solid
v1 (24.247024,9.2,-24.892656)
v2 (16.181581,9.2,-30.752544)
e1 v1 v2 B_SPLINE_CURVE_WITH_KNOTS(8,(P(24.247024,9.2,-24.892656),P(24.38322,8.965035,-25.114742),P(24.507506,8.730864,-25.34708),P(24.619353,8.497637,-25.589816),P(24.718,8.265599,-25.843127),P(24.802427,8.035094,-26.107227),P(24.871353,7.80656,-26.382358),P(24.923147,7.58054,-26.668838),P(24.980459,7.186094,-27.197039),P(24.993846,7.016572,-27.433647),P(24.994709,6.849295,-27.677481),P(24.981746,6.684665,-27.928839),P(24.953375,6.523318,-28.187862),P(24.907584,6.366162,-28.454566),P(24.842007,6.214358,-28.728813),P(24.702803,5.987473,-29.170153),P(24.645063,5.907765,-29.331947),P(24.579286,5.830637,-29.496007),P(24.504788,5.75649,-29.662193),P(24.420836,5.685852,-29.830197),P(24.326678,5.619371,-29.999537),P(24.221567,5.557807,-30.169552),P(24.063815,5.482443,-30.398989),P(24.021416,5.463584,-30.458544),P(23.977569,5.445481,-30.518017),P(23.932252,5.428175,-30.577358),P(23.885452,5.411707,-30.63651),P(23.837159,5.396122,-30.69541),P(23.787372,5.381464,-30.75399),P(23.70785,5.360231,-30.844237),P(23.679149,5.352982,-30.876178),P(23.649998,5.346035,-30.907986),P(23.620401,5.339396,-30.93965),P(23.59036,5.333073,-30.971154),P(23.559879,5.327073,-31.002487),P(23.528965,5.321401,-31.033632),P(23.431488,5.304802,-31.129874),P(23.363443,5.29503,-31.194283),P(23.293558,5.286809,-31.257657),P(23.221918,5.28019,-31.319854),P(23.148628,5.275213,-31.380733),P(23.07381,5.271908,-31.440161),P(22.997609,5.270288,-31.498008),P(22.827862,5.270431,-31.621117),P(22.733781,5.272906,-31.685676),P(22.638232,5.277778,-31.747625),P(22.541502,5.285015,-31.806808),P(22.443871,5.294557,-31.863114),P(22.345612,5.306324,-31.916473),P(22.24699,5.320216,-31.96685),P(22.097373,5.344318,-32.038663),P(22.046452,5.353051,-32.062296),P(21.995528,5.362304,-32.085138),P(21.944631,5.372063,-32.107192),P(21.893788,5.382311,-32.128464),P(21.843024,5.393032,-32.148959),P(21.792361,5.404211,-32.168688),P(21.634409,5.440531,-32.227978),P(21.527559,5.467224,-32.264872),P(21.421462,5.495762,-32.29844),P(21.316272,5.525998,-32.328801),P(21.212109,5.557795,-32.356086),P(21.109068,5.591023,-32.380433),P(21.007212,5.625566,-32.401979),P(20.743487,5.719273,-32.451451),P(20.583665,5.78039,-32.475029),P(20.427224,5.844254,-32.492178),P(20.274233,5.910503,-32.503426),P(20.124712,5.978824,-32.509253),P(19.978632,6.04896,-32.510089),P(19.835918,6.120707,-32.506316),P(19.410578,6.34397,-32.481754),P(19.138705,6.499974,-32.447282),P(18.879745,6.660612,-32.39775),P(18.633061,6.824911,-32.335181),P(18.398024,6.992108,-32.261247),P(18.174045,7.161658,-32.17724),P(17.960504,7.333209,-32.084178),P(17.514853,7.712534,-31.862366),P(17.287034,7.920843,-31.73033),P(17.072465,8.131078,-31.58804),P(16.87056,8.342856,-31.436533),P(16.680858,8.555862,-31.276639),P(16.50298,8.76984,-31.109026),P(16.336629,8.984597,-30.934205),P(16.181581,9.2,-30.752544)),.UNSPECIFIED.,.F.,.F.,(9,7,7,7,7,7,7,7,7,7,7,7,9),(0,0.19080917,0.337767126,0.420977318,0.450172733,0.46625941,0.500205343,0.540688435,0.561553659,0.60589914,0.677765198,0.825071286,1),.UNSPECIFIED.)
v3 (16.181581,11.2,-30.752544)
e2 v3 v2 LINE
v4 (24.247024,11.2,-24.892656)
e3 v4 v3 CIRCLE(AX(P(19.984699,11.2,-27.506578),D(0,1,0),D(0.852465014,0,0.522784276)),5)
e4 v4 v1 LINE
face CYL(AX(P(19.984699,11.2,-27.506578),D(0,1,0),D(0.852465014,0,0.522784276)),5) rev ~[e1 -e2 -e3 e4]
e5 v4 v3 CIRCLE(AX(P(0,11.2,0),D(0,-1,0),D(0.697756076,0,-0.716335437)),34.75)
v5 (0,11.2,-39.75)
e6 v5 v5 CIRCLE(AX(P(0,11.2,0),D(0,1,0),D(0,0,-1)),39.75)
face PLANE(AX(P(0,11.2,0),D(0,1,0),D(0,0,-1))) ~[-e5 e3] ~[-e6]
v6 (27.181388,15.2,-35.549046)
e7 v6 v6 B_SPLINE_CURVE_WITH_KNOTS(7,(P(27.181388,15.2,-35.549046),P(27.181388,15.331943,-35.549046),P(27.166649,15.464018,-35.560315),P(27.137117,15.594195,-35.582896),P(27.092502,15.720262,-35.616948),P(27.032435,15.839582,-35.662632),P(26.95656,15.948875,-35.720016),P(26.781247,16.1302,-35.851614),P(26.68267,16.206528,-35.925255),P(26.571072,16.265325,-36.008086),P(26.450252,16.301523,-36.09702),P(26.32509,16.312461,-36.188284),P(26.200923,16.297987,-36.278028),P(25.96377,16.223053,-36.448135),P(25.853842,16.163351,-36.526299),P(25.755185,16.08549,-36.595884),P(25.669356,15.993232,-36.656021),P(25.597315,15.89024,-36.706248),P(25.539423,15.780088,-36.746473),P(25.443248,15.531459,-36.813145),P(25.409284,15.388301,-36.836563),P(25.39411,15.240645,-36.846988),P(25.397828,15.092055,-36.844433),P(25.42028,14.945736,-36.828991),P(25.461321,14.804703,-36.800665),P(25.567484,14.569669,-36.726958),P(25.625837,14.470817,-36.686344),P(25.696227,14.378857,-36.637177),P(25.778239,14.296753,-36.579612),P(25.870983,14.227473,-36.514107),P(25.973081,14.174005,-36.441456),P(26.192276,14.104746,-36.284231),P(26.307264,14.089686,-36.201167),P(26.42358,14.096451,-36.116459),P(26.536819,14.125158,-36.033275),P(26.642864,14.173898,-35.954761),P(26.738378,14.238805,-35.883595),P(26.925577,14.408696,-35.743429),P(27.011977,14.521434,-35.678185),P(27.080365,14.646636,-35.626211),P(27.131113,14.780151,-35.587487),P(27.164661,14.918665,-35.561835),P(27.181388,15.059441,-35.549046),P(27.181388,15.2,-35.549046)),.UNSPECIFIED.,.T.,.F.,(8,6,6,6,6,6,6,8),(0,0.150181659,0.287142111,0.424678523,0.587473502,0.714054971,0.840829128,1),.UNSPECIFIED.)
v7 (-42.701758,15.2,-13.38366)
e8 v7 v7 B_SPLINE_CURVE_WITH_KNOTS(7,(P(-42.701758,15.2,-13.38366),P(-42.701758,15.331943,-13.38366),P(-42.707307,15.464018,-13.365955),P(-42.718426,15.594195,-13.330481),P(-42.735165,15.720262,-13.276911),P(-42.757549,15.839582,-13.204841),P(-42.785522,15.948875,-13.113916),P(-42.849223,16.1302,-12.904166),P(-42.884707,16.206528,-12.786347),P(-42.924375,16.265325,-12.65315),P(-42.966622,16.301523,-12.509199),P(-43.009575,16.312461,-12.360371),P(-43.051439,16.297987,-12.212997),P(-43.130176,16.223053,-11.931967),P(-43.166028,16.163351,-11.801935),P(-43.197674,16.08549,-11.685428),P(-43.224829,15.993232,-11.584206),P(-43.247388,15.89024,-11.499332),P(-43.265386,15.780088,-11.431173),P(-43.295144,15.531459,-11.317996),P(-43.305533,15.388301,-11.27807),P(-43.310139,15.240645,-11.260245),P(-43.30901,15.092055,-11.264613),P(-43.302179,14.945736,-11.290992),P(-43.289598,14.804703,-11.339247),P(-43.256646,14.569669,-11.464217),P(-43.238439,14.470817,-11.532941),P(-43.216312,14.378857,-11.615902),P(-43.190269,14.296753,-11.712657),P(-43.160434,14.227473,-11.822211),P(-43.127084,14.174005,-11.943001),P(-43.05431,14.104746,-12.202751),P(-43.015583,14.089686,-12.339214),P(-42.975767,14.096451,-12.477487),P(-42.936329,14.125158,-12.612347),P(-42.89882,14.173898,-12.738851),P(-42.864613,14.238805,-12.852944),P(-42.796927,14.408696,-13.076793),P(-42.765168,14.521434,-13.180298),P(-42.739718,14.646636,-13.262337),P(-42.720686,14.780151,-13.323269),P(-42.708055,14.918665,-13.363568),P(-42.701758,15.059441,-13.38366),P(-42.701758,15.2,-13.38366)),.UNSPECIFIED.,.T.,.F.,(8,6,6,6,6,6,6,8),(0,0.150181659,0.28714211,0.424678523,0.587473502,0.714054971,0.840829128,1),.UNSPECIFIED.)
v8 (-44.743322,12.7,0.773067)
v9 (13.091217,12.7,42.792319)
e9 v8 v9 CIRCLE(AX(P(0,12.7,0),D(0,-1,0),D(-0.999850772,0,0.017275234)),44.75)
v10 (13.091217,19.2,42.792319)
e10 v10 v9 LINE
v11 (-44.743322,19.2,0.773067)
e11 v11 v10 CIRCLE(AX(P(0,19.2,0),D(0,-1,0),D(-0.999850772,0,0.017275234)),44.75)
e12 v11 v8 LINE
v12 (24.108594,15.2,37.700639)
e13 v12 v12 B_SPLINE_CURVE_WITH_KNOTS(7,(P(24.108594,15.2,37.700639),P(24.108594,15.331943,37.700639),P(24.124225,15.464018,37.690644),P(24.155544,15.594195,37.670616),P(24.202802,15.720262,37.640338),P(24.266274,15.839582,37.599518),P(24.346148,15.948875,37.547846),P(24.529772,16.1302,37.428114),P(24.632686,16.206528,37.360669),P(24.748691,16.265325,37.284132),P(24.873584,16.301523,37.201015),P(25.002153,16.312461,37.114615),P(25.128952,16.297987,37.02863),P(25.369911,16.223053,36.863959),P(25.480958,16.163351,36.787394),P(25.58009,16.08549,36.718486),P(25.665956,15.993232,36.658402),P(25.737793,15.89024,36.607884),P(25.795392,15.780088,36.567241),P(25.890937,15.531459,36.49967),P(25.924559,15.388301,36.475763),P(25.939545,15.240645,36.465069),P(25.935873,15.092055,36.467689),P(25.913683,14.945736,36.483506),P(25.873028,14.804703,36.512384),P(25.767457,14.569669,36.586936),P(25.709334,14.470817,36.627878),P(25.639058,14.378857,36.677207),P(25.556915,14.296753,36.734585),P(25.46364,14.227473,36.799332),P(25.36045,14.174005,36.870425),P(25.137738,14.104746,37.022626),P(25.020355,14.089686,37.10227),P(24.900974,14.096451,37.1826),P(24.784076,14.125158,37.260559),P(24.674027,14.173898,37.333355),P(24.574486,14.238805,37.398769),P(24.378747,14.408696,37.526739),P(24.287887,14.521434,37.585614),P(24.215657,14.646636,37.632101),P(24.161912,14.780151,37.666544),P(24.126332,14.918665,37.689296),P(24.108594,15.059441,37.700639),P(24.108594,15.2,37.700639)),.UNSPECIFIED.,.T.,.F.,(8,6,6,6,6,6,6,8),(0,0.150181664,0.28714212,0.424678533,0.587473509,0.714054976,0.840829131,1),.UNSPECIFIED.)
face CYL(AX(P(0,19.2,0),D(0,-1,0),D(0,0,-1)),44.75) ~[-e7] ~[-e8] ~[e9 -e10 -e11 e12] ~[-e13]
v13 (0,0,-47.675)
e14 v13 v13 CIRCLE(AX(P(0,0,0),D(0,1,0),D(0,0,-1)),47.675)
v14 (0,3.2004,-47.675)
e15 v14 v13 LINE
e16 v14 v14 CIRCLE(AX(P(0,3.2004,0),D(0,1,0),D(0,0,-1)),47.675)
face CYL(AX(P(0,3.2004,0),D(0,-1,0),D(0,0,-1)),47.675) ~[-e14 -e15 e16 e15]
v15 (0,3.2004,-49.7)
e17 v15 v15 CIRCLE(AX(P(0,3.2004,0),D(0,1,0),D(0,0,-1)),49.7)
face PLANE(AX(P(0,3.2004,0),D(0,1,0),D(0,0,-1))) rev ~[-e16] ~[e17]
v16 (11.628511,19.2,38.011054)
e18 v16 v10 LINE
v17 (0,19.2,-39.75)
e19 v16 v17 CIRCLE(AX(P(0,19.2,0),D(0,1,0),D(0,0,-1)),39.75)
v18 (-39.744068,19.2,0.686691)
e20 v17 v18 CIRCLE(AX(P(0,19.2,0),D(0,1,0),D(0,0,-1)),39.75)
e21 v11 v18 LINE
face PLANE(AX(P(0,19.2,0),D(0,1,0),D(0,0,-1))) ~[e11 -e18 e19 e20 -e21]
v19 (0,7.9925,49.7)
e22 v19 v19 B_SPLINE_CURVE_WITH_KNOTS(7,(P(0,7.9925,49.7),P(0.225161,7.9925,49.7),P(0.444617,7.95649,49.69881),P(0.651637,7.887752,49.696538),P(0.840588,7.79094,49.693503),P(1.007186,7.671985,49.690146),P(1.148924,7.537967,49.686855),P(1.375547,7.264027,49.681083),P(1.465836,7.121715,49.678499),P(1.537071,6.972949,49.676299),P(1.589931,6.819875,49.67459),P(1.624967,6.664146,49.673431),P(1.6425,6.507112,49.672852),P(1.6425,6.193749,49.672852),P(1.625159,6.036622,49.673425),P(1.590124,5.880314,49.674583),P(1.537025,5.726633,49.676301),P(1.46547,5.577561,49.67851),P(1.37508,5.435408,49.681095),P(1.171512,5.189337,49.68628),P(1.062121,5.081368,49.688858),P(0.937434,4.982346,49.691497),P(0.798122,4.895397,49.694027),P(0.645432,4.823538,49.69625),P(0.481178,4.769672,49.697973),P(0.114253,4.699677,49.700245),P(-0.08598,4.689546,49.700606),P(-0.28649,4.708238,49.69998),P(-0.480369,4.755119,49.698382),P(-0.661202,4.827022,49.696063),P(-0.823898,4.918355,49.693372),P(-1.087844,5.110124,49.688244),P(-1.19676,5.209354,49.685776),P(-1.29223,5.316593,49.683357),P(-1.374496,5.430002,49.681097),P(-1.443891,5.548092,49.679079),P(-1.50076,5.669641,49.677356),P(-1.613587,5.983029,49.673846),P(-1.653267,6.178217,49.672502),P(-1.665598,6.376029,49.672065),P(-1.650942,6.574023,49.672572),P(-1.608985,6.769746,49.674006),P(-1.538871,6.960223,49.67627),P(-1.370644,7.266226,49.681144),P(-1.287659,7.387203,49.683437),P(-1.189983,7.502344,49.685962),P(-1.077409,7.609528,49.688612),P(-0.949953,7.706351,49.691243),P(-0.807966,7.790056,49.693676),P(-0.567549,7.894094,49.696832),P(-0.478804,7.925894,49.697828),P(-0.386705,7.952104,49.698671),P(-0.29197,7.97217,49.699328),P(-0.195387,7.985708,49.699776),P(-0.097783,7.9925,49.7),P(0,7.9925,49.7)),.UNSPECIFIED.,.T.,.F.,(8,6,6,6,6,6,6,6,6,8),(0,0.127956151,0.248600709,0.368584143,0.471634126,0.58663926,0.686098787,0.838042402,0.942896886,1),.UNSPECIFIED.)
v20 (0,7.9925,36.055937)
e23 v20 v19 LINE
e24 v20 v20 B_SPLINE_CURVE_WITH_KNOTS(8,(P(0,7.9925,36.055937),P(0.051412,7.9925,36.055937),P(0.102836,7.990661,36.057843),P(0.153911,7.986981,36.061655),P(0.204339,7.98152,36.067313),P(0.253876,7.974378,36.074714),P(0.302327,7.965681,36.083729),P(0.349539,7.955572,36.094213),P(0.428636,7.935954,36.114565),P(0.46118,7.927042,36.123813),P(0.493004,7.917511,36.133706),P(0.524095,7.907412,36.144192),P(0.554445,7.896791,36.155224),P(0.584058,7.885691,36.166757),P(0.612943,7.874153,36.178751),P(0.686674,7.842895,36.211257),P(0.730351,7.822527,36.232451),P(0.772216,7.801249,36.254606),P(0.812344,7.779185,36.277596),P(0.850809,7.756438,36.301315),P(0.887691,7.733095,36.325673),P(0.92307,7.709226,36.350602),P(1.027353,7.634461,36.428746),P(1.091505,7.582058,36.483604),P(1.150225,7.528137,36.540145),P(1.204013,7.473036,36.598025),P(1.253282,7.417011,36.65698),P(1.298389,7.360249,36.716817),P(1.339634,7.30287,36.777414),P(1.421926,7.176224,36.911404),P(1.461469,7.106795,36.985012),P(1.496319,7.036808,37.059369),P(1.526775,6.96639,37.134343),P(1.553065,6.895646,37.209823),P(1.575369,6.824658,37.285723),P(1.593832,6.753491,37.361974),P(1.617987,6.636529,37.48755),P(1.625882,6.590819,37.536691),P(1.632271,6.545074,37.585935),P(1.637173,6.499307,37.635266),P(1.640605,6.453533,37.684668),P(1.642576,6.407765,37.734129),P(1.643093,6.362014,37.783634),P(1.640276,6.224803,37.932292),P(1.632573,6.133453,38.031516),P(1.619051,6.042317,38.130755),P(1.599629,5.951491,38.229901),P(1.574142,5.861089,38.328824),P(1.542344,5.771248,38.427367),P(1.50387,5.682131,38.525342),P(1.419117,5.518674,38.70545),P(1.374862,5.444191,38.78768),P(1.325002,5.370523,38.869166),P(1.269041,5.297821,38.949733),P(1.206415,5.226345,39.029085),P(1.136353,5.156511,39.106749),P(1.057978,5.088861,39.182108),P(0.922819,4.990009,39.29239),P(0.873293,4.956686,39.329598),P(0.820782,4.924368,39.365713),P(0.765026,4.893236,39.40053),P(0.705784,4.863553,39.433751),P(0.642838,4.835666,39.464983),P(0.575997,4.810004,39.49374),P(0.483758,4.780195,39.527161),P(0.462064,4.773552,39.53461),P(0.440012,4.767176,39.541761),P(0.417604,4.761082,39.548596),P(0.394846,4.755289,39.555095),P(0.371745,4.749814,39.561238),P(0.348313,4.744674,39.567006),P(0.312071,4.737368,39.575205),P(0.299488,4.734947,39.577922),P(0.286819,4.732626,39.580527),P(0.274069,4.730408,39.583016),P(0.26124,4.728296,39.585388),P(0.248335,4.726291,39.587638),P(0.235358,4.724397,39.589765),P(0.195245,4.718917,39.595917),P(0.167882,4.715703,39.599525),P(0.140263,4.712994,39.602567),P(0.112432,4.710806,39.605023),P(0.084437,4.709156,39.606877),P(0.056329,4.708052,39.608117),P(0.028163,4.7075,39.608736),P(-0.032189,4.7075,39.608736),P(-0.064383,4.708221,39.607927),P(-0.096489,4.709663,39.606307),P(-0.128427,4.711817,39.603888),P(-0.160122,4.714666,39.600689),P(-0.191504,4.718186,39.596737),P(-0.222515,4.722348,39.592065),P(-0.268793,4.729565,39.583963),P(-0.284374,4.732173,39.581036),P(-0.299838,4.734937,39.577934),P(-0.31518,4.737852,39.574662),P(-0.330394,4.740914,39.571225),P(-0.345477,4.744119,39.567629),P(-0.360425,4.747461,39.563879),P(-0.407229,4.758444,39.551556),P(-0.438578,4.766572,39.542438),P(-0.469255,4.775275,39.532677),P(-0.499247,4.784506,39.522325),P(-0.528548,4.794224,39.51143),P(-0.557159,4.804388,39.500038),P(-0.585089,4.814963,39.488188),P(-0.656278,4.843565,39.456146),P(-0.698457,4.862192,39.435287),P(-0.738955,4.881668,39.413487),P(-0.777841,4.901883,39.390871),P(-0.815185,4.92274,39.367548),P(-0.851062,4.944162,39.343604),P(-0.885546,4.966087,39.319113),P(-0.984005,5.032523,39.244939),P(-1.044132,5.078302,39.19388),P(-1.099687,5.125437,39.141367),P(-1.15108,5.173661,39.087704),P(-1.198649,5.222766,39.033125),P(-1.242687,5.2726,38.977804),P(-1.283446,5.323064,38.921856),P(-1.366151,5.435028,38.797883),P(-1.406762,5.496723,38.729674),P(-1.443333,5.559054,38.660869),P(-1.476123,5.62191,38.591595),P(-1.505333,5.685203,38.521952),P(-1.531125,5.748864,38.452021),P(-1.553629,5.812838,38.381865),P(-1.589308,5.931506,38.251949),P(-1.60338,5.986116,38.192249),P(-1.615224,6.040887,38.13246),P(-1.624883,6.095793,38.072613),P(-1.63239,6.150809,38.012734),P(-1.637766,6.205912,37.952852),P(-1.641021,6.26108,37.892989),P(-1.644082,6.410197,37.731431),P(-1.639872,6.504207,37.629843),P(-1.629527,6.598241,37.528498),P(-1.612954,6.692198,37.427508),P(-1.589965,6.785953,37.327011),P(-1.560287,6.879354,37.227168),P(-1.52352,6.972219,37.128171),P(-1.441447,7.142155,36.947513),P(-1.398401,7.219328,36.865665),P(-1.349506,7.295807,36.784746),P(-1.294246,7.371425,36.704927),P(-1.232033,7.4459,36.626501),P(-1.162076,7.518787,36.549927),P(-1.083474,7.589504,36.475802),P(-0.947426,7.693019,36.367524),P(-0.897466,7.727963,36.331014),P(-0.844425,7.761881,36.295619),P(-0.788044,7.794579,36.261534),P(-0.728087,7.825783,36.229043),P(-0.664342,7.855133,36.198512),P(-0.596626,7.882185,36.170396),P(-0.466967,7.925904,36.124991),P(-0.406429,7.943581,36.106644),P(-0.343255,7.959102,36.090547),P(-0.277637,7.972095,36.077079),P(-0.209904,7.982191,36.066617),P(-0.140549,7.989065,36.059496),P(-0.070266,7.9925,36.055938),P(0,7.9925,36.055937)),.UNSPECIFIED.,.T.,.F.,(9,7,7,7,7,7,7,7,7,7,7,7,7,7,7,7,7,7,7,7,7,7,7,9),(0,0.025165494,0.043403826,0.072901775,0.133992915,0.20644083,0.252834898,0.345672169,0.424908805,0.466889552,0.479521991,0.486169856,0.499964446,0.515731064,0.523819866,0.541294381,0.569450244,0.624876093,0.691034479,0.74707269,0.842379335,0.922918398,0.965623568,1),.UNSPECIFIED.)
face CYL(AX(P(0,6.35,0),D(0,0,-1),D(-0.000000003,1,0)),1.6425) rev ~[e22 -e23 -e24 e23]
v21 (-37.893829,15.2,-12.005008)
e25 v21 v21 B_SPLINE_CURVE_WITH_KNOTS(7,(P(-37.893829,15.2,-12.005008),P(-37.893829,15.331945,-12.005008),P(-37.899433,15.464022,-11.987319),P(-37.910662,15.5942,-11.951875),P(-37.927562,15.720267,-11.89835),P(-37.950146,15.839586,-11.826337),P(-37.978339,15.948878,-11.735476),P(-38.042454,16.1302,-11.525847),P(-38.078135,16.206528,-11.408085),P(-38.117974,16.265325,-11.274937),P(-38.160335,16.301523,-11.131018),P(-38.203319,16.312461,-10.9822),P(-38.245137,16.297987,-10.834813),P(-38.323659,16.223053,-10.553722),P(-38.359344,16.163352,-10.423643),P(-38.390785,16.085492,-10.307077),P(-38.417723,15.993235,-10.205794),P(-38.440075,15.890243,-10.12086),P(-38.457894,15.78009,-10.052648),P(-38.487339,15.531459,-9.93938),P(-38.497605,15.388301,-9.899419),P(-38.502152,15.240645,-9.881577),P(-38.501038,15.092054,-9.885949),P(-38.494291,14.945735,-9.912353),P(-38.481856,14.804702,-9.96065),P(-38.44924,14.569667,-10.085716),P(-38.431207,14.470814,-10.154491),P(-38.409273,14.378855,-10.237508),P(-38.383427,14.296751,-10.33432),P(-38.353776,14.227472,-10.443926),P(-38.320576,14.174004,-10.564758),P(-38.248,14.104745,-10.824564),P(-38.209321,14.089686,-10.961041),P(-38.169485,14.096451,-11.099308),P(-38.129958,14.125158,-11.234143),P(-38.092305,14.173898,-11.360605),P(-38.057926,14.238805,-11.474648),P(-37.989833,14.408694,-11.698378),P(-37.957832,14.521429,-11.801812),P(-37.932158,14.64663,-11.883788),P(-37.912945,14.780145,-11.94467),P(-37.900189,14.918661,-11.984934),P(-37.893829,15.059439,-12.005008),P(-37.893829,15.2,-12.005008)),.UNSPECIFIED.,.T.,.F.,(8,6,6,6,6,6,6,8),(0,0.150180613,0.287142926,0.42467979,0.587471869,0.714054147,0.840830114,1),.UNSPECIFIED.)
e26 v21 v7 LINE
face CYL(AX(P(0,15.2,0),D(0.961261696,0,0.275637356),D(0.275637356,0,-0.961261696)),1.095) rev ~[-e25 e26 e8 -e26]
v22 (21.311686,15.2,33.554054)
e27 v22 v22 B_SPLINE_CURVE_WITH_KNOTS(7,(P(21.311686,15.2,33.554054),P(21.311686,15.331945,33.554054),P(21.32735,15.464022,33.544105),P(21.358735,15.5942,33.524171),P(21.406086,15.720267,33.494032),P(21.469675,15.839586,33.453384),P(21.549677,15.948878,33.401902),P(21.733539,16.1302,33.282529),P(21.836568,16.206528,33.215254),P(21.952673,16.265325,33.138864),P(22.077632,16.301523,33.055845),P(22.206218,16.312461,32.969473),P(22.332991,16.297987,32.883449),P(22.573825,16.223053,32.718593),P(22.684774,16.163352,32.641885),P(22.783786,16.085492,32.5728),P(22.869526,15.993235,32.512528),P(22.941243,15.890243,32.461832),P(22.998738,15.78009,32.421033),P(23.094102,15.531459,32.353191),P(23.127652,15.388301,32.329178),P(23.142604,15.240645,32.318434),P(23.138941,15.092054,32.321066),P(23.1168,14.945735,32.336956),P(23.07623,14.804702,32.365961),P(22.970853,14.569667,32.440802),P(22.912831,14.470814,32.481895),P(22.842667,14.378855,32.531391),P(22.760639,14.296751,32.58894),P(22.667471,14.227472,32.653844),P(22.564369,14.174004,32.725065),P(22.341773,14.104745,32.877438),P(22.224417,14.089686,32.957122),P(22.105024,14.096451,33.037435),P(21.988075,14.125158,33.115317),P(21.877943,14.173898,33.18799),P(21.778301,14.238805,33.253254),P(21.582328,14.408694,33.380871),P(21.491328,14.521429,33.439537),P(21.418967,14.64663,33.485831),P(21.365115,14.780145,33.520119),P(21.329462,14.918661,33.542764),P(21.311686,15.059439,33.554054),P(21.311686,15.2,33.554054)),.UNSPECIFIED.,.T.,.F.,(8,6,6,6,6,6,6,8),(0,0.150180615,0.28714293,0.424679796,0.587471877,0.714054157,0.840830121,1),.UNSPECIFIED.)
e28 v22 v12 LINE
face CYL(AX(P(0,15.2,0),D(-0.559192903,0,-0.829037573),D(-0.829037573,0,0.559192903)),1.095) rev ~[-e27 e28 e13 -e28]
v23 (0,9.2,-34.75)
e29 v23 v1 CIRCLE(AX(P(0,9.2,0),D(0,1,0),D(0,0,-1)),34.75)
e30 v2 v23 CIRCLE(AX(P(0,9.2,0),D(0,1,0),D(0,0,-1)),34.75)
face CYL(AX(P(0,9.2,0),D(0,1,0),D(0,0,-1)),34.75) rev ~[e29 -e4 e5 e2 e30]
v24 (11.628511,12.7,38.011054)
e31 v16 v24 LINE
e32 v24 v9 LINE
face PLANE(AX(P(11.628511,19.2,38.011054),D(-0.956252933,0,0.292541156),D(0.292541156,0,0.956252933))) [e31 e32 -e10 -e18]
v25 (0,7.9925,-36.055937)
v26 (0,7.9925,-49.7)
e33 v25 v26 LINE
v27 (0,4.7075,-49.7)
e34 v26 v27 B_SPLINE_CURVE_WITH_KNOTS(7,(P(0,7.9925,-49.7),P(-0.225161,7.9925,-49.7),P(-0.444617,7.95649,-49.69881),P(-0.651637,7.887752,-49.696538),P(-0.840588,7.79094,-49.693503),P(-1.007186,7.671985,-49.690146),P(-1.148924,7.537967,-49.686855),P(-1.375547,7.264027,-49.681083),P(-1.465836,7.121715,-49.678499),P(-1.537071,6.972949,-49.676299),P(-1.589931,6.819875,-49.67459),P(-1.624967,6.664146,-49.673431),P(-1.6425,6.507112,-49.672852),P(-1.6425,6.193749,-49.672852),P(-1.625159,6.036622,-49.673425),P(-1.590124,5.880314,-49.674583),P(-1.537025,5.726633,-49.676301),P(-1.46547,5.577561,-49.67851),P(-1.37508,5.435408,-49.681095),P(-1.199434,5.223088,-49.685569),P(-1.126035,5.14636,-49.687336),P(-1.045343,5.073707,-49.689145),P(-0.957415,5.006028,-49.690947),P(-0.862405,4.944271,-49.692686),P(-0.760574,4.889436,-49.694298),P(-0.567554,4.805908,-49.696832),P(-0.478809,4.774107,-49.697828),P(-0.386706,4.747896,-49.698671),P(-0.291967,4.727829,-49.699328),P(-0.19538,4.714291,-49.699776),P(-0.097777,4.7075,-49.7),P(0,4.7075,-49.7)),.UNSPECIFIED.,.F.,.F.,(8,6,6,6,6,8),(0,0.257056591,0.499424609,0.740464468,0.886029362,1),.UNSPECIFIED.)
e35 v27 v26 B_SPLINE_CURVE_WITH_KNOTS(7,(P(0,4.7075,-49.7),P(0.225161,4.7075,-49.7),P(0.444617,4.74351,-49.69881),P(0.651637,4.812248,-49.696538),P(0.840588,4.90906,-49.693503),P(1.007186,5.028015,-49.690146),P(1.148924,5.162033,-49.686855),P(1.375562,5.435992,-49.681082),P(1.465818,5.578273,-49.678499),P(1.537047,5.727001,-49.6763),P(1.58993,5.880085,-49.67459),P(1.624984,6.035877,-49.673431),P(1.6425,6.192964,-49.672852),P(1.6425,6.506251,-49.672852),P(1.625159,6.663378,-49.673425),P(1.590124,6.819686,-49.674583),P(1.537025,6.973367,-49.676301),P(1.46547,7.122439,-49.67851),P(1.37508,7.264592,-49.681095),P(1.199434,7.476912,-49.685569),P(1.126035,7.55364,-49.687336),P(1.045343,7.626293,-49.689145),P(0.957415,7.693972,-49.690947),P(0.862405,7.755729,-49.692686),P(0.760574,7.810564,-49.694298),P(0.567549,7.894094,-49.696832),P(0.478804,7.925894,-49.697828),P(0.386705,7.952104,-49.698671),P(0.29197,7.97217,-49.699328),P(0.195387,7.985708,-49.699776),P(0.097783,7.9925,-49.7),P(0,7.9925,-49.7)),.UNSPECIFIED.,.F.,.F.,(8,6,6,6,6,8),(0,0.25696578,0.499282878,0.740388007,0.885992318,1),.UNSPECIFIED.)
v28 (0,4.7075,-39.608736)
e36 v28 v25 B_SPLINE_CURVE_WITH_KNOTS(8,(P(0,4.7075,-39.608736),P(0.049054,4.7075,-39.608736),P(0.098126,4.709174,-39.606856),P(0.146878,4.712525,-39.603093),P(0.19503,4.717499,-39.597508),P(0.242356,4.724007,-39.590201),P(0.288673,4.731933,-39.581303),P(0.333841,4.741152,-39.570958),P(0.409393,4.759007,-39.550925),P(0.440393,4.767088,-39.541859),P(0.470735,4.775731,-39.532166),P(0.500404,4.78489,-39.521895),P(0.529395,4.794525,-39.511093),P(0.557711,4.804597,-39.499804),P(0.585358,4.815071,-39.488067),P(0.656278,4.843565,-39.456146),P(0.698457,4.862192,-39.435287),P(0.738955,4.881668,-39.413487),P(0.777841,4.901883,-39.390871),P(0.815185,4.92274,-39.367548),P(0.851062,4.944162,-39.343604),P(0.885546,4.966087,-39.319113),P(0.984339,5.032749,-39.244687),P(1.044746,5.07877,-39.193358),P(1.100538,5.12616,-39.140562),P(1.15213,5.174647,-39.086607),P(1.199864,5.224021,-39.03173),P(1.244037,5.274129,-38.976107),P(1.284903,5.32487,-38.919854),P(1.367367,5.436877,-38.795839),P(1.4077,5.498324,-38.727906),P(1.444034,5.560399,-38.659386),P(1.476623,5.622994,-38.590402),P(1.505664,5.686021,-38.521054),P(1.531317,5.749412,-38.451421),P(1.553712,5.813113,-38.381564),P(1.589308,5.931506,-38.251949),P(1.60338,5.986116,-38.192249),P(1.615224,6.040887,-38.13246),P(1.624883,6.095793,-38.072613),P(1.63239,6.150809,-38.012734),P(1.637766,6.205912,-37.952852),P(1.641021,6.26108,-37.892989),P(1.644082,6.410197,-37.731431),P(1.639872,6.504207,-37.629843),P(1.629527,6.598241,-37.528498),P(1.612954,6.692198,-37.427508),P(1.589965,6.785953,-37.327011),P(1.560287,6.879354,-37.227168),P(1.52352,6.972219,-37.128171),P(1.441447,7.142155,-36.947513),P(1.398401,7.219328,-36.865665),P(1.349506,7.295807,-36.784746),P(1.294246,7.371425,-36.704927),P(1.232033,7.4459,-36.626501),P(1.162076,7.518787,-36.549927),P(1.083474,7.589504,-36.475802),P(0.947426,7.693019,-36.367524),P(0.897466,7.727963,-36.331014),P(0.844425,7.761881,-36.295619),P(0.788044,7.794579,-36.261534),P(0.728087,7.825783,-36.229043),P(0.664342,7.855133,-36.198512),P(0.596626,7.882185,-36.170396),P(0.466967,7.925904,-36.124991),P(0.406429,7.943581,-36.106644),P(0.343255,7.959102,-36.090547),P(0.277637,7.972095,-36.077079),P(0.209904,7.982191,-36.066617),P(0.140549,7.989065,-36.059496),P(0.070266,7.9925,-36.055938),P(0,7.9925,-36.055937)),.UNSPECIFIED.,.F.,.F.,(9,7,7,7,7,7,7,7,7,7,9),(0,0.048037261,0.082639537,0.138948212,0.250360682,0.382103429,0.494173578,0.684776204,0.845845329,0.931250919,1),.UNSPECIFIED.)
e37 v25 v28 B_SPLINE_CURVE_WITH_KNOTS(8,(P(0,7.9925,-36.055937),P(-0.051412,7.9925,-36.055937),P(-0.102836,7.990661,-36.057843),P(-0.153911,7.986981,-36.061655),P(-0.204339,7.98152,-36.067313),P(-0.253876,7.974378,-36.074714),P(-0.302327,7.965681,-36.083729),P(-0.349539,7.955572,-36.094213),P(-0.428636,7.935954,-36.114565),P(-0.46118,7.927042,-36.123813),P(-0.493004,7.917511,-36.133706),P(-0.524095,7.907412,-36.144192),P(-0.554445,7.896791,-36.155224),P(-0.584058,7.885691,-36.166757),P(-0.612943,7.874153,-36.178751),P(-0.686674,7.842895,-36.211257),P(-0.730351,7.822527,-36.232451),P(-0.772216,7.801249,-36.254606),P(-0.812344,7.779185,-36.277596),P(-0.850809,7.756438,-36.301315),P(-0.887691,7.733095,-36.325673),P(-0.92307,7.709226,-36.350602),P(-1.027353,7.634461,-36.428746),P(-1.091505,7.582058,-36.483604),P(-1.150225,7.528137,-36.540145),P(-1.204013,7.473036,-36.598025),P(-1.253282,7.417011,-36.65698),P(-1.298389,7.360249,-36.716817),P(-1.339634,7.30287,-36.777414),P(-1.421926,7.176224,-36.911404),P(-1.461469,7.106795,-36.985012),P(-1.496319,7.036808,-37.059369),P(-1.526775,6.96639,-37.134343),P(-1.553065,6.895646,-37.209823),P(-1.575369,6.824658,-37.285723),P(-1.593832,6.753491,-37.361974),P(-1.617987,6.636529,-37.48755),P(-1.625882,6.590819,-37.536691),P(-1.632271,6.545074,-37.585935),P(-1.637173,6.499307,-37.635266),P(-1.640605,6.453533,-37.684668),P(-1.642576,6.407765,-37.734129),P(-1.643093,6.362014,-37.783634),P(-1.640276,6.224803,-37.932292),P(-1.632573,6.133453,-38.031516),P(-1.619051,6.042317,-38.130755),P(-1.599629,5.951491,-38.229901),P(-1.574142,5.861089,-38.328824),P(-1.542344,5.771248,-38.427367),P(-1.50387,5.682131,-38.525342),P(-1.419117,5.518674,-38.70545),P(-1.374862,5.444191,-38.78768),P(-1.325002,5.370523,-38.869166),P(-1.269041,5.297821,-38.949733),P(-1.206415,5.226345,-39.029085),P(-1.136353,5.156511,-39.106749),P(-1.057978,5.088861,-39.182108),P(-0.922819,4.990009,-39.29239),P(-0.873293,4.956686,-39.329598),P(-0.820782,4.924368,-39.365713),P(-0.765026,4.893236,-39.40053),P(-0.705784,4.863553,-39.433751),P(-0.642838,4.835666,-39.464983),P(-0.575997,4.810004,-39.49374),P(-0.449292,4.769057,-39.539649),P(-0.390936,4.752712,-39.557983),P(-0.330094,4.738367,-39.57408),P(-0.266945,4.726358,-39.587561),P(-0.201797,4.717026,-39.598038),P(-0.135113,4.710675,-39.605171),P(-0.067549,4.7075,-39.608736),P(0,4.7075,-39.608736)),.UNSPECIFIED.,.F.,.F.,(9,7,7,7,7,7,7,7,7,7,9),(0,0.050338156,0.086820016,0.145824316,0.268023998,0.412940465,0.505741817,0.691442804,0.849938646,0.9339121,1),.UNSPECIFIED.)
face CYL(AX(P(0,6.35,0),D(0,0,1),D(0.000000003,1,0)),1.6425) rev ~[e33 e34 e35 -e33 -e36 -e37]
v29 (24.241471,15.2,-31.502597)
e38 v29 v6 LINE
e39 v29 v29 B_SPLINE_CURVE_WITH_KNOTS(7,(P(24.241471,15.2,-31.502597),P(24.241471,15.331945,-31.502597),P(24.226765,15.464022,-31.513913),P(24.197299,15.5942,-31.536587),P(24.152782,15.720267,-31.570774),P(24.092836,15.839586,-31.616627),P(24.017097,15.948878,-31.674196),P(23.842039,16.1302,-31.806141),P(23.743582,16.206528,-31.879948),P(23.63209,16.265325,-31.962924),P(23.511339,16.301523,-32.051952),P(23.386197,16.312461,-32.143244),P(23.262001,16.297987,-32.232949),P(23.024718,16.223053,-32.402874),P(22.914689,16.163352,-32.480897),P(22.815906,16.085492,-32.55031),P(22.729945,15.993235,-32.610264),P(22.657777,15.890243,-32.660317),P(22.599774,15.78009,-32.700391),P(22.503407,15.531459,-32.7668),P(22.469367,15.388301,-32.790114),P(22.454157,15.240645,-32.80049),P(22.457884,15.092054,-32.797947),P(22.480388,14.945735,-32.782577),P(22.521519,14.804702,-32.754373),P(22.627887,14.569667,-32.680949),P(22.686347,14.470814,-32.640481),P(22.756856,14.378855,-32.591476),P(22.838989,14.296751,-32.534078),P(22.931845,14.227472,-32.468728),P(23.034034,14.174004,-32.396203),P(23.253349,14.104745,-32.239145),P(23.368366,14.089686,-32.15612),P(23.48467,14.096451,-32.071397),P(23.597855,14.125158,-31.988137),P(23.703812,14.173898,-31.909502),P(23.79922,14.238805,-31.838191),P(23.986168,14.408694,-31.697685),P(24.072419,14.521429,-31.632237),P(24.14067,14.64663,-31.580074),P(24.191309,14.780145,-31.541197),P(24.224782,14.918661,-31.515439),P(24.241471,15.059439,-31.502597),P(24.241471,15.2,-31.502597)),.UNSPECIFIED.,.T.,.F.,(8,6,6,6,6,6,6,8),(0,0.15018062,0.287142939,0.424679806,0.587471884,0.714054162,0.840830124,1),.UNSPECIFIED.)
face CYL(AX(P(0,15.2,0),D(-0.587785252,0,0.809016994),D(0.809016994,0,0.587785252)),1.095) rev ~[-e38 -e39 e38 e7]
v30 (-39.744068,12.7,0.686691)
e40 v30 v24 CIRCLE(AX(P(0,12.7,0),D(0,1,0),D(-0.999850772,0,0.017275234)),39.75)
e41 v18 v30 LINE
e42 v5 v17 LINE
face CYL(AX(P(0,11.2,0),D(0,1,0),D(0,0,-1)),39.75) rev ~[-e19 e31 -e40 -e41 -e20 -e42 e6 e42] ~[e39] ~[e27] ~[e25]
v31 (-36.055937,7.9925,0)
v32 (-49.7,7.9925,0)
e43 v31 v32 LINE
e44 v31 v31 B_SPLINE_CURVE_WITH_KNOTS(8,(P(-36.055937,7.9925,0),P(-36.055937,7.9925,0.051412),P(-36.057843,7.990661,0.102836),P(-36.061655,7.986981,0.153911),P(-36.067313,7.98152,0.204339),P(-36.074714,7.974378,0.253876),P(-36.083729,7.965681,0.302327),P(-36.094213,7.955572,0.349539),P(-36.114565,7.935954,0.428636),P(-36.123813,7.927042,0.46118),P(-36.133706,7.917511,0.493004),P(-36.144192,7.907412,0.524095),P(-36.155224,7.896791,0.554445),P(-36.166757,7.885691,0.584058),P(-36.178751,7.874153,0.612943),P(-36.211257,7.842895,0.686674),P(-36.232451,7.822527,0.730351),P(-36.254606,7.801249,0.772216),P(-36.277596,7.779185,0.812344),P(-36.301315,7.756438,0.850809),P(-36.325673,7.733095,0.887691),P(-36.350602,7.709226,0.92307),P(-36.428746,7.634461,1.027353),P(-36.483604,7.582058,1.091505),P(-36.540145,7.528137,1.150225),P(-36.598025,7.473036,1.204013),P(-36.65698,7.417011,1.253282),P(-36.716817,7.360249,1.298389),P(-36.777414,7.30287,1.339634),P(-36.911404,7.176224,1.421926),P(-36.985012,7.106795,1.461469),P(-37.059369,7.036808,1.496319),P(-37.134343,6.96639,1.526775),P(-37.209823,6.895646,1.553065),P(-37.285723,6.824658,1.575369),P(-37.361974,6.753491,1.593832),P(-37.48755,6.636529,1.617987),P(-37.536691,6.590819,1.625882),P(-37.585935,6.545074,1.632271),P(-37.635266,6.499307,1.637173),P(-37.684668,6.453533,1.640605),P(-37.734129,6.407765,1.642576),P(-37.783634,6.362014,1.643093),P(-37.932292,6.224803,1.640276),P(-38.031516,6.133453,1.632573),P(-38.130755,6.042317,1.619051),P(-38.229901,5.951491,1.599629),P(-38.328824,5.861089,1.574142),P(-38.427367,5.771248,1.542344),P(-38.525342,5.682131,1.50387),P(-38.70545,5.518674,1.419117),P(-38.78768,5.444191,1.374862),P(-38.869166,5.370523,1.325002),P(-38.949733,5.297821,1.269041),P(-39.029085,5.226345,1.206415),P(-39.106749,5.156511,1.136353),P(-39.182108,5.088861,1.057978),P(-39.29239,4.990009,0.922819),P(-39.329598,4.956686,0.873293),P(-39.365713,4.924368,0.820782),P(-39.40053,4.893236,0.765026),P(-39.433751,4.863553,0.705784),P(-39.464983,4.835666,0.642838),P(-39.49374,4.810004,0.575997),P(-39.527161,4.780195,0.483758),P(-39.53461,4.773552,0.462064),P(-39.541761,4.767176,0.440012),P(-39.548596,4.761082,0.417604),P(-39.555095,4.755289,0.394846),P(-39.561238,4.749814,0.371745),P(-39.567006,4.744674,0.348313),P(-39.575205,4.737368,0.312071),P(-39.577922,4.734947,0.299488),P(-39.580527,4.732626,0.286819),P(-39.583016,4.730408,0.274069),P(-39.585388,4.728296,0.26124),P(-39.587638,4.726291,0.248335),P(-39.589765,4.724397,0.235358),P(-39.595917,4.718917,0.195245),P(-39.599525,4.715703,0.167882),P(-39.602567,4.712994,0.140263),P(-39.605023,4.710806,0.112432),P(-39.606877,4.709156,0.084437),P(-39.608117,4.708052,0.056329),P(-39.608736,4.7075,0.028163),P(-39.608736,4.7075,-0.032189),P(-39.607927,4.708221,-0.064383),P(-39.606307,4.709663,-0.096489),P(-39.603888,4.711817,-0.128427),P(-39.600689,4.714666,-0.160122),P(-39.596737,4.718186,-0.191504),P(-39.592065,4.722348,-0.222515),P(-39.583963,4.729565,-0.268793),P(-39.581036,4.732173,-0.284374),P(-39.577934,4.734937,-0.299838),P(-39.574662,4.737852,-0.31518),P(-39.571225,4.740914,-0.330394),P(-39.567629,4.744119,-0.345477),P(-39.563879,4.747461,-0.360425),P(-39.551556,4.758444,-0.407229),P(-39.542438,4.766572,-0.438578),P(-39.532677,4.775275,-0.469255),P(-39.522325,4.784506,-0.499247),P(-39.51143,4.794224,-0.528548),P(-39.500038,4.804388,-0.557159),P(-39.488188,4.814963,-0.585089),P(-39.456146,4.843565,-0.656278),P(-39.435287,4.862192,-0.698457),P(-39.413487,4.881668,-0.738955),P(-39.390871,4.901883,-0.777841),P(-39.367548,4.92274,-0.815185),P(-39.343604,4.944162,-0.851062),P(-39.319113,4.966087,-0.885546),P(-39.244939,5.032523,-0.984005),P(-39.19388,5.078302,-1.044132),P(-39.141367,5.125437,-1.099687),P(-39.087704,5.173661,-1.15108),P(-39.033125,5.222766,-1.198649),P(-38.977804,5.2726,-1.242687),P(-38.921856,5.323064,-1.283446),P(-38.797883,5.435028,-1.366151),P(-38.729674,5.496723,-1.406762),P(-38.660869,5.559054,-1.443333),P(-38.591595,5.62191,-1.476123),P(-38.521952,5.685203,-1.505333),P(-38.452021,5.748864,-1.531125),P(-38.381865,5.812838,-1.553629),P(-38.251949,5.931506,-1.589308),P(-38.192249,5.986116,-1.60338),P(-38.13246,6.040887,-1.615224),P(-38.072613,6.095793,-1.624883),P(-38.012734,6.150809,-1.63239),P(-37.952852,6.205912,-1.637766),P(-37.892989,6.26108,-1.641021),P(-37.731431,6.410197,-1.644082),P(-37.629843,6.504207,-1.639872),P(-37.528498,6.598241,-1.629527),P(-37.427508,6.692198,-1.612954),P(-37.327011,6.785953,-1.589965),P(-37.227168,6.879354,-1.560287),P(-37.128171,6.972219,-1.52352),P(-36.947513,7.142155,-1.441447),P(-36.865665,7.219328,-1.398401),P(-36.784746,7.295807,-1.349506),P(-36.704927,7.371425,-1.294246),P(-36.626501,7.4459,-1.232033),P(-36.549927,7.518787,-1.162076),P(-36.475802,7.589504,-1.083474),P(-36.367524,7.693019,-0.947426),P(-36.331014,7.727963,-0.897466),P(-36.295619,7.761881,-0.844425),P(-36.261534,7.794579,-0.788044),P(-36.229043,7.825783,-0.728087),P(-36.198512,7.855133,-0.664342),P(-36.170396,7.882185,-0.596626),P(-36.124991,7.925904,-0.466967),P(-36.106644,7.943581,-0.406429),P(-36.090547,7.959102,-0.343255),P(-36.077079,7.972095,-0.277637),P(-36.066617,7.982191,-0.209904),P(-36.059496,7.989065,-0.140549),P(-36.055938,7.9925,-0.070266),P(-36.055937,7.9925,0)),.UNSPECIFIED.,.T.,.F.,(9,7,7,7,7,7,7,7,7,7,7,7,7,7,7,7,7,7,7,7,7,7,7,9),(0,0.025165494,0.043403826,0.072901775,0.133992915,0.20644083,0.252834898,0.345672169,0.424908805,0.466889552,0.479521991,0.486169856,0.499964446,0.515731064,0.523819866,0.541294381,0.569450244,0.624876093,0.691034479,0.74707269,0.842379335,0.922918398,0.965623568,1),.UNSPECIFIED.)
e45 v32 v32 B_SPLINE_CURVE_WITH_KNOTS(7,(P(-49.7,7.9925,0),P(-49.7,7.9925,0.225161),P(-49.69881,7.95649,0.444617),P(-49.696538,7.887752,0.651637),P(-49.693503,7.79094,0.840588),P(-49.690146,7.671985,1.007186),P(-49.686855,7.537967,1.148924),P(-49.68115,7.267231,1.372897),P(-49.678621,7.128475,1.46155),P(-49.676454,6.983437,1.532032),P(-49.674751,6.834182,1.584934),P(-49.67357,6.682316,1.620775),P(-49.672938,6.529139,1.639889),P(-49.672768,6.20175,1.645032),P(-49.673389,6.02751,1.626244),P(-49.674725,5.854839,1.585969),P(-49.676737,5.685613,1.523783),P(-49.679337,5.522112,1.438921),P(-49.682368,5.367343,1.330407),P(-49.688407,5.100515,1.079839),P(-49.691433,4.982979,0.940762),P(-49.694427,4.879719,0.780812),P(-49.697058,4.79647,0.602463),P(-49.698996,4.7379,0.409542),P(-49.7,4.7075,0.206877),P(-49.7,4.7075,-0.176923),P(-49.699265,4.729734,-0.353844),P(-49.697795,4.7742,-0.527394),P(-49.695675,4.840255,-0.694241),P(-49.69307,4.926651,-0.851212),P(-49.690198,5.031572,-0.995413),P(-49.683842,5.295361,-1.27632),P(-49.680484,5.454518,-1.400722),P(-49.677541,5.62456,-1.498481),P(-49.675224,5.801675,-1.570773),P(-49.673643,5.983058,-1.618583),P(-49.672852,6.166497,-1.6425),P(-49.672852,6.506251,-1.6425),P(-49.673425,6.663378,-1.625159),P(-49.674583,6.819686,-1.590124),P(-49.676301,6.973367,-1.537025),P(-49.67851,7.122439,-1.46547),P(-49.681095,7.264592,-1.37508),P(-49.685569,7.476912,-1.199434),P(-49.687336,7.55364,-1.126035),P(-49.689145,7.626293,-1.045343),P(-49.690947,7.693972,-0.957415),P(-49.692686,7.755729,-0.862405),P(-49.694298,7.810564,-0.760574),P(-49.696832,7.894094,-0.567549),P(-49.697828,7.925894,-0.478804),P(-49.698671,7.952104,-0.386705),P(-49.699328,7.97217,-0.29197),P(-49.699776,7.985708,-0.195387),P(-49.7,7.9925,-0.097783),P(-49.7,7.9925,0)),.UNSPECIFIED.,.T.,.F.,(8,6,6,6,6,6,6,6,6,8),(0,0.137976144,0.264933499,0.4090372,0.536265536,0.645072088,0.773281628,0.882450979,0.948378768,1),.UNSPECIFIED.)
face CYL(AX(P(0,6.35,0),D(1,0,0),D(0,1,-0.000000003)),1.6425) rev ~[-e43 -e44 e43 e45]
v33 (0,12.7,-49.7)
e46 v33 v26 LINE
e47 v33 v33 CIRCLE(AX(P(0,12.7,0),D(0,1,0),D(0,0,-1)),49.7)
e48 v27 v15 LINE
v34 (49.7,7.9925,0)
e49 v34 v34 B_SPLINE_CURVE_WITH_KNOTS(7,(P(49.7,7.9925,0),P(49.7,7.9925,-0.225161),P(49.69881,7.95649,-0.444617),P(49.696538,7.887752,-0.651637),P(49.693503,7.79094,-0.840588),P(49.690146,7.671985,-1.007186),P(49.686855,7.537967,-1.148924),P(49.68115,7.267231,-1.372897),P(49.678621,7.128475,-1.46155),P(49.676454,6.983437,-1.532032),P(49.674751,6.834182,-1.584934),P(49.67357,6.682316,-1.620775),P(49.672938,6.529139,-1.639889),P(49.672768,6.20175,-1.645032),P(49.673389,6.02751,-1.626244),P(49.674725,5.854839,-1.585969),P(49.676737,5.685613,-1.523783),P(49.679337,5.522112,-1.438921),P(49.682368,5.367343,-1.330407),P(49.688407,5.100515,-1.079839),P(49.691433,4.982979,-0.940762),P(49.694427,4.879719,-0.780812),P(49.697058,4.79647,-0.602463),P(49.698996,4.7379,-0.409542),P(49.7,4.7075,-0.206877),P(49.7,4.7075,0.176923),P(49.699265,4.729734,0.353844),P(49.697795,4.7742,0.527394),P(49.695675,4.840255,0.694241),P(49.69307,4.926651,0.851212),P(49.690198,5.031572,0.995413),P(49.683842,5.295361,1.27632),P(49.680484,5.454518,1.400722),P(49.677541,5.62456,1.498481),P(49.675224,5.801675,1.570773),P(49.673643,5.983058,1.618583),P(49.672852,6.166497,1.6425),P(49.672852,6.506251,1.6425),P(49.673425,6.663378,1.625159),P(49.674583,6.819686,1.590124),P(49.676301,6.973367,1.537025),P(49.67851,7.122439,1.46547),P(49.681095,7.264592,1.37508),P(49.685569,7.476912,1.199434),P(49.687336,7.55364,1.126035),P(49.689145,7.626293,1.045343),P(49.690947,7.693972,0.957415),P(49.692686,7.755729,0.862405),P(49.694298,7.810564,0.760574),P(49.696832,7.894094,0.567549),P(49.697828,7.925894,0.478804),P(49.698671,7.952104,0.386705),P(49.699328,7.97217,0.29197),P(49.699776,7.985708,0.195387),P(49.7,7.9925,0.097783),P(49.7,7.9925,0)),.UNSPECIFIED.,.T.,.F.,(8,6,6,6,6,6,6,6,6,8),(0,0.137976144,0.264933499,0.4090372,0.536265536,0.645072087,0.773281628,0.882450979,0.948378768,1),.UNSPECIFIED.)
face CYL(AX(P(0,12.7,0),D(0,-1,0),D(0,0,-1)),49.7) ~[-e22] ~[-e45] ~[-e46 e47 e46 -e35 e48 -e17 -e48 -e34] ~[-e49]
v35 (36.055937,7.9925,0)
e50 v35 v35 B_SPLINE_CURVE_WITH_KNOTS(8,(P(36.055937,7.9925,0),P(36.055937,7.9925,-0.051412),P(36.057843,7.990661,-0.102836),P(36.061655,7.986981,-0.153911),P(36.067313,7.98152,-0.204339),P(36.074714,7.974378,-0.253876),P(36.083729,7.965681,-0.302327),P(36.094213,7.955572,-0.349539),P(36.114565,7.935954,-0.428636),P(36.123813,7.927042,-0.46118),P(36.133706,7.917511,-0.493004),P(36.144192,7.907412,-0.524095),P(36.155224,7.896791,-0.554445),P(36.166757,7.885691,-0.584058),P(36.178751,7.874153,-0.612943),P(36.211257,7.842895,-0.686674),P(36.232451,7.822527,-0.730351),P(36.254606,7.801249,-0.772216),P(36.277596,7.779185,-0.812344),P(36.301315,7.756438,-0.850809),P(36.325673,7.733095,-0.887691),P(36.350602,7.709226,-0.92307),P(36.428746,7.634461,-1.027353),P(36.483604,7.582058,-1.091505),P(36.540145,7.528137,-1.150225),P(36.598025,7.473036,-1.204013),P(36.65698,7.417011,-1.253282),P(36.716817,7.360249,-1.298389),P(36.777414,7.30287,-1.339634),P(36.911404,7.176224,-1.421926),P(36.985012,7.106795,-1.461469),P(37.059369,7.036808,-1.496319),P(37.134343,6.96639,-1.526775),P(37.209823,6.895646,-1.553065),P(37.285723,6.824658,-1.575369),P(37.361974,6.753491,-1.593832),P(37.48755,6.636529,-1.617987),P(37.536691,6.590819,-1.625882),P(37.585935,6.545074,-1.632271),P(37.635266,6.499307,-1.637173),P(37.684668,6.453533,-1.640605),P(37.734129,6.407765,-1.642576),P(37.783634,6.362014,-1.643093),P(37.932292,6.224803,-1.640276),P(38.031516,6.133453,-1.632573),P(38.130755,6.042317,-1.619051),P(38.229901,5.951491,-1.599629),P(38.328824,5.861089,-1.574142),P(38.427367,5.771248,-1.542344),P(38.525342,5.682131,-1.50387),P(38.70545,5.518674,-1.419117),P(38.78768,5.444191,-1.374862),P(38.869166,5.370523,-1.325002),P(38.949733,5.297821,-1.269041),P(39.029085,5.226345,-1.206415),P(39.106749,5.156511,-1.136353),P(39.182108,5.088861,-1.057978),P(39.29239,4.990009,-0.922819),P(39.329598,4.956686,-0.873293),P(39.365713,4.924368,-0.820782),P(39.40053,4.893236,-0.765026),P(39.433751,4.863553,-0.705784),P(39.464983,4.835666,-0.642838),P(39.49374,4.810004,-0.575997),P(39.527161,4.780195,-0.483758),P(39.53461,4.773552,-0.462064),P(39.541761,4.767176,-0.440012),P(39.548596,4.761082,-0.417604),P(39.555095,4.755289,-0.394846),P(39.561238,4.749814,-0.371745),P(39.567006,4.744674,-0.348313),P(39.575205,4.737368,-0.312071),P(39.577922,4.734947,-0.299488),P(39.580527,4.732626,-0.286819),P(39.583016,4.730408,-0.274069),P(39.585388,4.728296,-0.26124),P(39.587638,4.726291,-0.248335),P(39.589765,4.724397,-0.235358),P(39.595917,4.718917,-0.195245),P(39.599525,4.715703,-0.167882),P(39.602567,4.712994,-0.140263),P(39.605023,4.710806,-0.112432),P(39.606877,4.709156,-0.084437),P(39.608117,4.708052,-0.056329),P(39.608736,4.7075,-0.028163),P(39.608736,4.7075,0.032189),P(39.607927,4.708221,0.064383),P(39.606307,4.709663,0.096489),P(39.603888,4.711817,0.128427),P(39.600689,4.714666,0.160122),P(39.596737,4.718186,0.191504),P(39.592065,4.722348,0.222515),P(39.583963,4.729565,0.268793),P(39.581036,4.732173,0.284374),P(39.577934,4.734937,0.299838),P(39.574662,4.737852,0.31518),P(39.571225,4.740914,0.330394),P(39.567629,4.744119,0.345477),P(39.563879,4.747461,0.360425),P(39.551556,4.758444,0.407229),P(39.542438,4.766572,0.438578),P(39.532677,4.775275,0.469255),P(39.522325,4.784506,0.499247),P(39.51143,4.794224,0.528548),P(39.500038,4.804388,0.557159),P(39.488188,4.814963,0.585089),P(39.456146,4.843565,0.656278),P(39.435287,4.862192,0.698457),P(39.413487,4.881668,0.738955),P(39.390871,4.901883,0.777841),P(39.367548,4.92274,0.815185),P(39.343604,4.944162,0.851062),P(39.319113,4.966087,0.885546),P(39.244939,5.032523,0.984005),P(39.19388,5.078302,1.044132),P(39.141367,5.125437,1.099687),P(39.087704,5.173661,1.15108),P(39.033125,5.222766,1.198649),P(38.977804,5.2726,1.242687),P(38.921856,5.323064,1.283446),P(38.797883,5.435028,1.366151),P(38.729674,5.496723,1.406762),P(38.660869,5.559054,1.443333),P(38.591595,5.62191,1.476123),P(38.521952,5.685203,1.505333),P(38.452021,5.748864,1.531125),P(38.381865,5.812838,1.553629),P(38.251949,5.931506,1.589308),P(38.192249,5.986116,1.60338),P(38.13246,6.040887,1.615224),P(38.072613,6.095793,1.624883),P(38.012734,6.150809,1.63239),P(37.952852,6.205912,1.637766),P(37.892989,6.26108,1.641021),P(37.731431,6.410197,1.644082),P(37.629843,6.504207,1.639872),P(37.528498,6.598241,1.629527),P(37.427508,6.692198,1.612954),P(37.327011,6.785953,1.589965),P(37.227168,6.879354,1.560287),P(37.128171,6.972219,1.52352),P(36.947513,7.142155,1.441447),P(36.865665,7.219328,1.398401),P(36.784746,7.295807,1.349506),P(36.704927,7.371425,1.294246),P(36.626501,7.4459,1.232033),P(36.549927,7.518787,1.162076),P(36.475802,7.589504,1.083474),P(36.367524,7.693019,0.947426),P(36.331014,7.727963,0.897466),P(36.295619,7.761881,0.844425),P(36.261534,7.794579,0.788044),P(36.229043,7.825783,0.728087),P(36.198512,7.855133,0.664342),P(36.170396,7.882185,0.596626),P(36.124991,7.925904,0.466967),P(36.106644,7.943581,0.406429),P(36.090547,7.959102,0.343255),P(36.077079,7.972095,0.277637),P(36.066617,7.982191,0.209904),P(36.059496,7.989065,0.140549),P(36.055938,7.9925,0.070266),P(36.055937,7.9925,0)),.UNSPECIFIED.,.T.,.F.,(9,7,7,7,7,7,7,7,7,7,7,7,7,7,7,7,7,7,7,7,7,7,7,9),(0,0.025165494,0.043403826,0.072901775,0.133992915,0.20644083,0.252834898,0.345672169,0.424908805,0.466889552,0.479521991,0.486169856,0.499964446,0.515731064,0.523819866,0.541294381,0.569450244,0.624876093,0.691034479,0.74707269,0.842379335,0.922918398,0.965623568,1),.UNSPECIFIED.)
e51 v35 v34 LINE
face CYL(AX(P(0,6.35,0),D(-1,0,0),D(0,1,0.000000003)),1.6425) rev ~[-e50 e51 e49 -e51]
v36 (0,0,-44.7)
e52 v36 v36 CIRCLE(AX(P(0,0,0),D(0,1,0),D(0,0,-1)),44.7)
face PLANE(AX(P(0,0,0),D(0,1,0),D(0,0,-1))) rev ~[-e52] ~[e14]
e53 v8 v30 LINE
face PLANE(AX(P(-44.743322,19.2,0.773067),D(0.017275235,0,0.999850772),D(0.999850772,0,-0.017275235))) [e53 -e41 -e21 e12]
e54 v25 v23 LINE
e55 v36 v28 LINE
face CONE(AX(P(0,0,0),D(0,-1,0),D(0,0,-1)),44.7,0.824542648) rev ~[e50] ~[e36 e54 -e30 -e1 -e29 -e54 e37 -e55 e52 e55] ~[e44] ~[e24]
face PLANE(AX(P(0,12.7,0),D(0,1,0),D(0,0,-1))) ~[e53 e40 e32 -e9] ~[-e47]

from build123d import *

# Parameters (mm, degrees)
SKETCH5_R          = 1.6425
CUT_EXTRUDE1_DEPTH = 50.7
SKETCH6_R          = 1.095
CUT_EXTRUDE2_DEPTH = 70.421071799
CIRPATTERN1_COUNT  = 4
CUT_EXTRUDE3_DEPTH = 6.5
CIRPATTERN2_COUNT  = 2
CIRPATTERN2_ANGLE  = 110
CIRPATTERN3_COUNT  = 2
CIRPATTERN3_ANGLE  = 110
CUT_EXTRUDE5_REACH = 13.2


with BuildPart() as part:
    # Sketch2 → Revolve1 (revolve)
    with BuildSketch(Plane.XY, mode=Mode.PRIVATE) as revolve1_sk:
        Polygon((49.7, 12.7), (49.7, 3.2004), (47.675, 3.2004), (47.675, 0), (44.7, 0), (34.75, 9.2), (34.75, 11.2), (39.75, 11.2), (39.75, 19.2), (44.75, 19.2), (44.75, 12.7), align=None)
    revolve(revolve1_sk.sketch.rotate(Axis((0, 0, 0), (0, 1, 0)), 90), axis=Axis((0, 0, 0), (0, 1, 0)))  # turned: the seam where the file's is

    # Sketch5 → Cut-Extrude1 (cut, through all)
    with BuildSketch(Plane.XY):
        with Locations(Location((0, 6.35, 0), (0, 0, 89.999999821))):  # turned: the seam where the file's is
            Circle(SKETCH5_R)
    cut_extrude1 = extrude(amount=-CUT_EXTRUDE1_DEPTH, mode=Mode.SUBTRACT)

    # Sketch6 → Cut-Extrude2 (cut, through all)
    with BuildSketch(Plane(origin=(0, 0, 0), x_dir=(0.809016994, 0, 0.587785252), z_dir=(-0.587785252, 0, 0.809016994))):
        with Locations((0, 15.2)):
            Circle(SKETCH6_R)
    cut_extrude2 = extrude(amount=-CUT_EXTRUDE2_DEPTH, mode=Mode.SUBTRACT)

    # CirPattern1: Cut-Extrude1 ×4 about axis
    cirpattern1_axis = Axis((0, 13.335, 0), (0, -1, 0))
    for i in range(1, CIRPATTERN1_COUNT):
        add(cut_extrude1.rotate(cirpattern1_axis, i * 360 / CIRPATTERN1_COUNT), mode=Mode.SUBTRACT)

    # Sketch7 → Cut-Extrude3 (cut)
    with BuildSketch(Plane(origin=(0, 19.2, 0), x_dir=(-1, 0, 0), z_dir=(0, 1, 0))):
        with BuildLine():
            Line((44.743322047, 0.773066741), (39.744068187, 0.686690568))
            ThreePointArc((39.744068187, 0.686690568), (23.364463779, 32.158425526), (-11.628510956, 38.011054089))
            Line((-11.628510956, 38.011054089), (-13.091216736, 42.792318754))
            ThreePointArc((-13.091216736, 42.792318754), (26.30339004, 36.203510498), (44.743322047, 0.773066741))
        make_face()
    extrude(amount=-CUT_EXTRUDE3_DEPTH, mode=Mode.SUBTRACT)

    # CirPattern2: Cut-Extrude2 ×2 about axis
    cirpattern2_axis = Axis((0, 13.335, 0), (0, -1, 0))
    for i in range(1, CIRPATTERN2_COUNT):
        add(cut_extrude2.rotate(cirpattern2_axis, i * CIRPATTERN2_ANGLE / (CIRPATTERN2_COUNT - 1)), mode=Mode.SUBTRACT)

    # CirPattern3: Cut-Extrude2 ×2 about axis
    cirpattern3_axis = Axis((0, 13.335, 0), (0, 1, 0))
    for i in range(1, CIRPATTERN3_COUNT):
        add(cut_extrude2.rotate(cirpattern3_axis, i * CIRPATTERN3_ANGLE / (CIRPATTERN3_COUNT - 1)), mode=Mode.SUBTRACT)

    # Cut-Extrude5: up to this cone (the profile starts outside it)
    cut_extrude5_end = Plane(origin=(0, 11.2, 0), z_dir=(0, -1, 0)).offset(-30.130652266) * Cone(1.082e-06, 82.647306238, 76.417608788, align=(Align.CENTER, Align.CENTER, Align.MIN), mode=Mode.PRIVATE)
    # Sketch8 → Cut-Extrude5 (cut, up to the surface)
    with BuildSketch(Plane(origin=(0, 11.2, 0), x_dir=(1, 0, 0), z_dir=(0, 1, 0)), mode=Mode.PRIVATE) as cut_extrude5_sk1:
        with BuildLine():
            Line((16.181580734, 30.752543715), (24.24702365, 24.892656429))
            ThreePointArc((24.24702365, 24.892656429), (22.923624839, 31.551662781), (16.181580734, 30.752543715))
        make_face()
    cut_extrude5_tool1 = extrude(cut_extrude5_sk1.sketch, amount=-CUT_EXTRUDE5_REACH, mode=Mode.PRIVATE) - cut_extrude5_end
    add(cut_extrude5_tool1.solids().sort_by_distance((21.35698, 11.2, -29.395361))[0], mode=Mode.SUBTRACT)


solid = part.part
